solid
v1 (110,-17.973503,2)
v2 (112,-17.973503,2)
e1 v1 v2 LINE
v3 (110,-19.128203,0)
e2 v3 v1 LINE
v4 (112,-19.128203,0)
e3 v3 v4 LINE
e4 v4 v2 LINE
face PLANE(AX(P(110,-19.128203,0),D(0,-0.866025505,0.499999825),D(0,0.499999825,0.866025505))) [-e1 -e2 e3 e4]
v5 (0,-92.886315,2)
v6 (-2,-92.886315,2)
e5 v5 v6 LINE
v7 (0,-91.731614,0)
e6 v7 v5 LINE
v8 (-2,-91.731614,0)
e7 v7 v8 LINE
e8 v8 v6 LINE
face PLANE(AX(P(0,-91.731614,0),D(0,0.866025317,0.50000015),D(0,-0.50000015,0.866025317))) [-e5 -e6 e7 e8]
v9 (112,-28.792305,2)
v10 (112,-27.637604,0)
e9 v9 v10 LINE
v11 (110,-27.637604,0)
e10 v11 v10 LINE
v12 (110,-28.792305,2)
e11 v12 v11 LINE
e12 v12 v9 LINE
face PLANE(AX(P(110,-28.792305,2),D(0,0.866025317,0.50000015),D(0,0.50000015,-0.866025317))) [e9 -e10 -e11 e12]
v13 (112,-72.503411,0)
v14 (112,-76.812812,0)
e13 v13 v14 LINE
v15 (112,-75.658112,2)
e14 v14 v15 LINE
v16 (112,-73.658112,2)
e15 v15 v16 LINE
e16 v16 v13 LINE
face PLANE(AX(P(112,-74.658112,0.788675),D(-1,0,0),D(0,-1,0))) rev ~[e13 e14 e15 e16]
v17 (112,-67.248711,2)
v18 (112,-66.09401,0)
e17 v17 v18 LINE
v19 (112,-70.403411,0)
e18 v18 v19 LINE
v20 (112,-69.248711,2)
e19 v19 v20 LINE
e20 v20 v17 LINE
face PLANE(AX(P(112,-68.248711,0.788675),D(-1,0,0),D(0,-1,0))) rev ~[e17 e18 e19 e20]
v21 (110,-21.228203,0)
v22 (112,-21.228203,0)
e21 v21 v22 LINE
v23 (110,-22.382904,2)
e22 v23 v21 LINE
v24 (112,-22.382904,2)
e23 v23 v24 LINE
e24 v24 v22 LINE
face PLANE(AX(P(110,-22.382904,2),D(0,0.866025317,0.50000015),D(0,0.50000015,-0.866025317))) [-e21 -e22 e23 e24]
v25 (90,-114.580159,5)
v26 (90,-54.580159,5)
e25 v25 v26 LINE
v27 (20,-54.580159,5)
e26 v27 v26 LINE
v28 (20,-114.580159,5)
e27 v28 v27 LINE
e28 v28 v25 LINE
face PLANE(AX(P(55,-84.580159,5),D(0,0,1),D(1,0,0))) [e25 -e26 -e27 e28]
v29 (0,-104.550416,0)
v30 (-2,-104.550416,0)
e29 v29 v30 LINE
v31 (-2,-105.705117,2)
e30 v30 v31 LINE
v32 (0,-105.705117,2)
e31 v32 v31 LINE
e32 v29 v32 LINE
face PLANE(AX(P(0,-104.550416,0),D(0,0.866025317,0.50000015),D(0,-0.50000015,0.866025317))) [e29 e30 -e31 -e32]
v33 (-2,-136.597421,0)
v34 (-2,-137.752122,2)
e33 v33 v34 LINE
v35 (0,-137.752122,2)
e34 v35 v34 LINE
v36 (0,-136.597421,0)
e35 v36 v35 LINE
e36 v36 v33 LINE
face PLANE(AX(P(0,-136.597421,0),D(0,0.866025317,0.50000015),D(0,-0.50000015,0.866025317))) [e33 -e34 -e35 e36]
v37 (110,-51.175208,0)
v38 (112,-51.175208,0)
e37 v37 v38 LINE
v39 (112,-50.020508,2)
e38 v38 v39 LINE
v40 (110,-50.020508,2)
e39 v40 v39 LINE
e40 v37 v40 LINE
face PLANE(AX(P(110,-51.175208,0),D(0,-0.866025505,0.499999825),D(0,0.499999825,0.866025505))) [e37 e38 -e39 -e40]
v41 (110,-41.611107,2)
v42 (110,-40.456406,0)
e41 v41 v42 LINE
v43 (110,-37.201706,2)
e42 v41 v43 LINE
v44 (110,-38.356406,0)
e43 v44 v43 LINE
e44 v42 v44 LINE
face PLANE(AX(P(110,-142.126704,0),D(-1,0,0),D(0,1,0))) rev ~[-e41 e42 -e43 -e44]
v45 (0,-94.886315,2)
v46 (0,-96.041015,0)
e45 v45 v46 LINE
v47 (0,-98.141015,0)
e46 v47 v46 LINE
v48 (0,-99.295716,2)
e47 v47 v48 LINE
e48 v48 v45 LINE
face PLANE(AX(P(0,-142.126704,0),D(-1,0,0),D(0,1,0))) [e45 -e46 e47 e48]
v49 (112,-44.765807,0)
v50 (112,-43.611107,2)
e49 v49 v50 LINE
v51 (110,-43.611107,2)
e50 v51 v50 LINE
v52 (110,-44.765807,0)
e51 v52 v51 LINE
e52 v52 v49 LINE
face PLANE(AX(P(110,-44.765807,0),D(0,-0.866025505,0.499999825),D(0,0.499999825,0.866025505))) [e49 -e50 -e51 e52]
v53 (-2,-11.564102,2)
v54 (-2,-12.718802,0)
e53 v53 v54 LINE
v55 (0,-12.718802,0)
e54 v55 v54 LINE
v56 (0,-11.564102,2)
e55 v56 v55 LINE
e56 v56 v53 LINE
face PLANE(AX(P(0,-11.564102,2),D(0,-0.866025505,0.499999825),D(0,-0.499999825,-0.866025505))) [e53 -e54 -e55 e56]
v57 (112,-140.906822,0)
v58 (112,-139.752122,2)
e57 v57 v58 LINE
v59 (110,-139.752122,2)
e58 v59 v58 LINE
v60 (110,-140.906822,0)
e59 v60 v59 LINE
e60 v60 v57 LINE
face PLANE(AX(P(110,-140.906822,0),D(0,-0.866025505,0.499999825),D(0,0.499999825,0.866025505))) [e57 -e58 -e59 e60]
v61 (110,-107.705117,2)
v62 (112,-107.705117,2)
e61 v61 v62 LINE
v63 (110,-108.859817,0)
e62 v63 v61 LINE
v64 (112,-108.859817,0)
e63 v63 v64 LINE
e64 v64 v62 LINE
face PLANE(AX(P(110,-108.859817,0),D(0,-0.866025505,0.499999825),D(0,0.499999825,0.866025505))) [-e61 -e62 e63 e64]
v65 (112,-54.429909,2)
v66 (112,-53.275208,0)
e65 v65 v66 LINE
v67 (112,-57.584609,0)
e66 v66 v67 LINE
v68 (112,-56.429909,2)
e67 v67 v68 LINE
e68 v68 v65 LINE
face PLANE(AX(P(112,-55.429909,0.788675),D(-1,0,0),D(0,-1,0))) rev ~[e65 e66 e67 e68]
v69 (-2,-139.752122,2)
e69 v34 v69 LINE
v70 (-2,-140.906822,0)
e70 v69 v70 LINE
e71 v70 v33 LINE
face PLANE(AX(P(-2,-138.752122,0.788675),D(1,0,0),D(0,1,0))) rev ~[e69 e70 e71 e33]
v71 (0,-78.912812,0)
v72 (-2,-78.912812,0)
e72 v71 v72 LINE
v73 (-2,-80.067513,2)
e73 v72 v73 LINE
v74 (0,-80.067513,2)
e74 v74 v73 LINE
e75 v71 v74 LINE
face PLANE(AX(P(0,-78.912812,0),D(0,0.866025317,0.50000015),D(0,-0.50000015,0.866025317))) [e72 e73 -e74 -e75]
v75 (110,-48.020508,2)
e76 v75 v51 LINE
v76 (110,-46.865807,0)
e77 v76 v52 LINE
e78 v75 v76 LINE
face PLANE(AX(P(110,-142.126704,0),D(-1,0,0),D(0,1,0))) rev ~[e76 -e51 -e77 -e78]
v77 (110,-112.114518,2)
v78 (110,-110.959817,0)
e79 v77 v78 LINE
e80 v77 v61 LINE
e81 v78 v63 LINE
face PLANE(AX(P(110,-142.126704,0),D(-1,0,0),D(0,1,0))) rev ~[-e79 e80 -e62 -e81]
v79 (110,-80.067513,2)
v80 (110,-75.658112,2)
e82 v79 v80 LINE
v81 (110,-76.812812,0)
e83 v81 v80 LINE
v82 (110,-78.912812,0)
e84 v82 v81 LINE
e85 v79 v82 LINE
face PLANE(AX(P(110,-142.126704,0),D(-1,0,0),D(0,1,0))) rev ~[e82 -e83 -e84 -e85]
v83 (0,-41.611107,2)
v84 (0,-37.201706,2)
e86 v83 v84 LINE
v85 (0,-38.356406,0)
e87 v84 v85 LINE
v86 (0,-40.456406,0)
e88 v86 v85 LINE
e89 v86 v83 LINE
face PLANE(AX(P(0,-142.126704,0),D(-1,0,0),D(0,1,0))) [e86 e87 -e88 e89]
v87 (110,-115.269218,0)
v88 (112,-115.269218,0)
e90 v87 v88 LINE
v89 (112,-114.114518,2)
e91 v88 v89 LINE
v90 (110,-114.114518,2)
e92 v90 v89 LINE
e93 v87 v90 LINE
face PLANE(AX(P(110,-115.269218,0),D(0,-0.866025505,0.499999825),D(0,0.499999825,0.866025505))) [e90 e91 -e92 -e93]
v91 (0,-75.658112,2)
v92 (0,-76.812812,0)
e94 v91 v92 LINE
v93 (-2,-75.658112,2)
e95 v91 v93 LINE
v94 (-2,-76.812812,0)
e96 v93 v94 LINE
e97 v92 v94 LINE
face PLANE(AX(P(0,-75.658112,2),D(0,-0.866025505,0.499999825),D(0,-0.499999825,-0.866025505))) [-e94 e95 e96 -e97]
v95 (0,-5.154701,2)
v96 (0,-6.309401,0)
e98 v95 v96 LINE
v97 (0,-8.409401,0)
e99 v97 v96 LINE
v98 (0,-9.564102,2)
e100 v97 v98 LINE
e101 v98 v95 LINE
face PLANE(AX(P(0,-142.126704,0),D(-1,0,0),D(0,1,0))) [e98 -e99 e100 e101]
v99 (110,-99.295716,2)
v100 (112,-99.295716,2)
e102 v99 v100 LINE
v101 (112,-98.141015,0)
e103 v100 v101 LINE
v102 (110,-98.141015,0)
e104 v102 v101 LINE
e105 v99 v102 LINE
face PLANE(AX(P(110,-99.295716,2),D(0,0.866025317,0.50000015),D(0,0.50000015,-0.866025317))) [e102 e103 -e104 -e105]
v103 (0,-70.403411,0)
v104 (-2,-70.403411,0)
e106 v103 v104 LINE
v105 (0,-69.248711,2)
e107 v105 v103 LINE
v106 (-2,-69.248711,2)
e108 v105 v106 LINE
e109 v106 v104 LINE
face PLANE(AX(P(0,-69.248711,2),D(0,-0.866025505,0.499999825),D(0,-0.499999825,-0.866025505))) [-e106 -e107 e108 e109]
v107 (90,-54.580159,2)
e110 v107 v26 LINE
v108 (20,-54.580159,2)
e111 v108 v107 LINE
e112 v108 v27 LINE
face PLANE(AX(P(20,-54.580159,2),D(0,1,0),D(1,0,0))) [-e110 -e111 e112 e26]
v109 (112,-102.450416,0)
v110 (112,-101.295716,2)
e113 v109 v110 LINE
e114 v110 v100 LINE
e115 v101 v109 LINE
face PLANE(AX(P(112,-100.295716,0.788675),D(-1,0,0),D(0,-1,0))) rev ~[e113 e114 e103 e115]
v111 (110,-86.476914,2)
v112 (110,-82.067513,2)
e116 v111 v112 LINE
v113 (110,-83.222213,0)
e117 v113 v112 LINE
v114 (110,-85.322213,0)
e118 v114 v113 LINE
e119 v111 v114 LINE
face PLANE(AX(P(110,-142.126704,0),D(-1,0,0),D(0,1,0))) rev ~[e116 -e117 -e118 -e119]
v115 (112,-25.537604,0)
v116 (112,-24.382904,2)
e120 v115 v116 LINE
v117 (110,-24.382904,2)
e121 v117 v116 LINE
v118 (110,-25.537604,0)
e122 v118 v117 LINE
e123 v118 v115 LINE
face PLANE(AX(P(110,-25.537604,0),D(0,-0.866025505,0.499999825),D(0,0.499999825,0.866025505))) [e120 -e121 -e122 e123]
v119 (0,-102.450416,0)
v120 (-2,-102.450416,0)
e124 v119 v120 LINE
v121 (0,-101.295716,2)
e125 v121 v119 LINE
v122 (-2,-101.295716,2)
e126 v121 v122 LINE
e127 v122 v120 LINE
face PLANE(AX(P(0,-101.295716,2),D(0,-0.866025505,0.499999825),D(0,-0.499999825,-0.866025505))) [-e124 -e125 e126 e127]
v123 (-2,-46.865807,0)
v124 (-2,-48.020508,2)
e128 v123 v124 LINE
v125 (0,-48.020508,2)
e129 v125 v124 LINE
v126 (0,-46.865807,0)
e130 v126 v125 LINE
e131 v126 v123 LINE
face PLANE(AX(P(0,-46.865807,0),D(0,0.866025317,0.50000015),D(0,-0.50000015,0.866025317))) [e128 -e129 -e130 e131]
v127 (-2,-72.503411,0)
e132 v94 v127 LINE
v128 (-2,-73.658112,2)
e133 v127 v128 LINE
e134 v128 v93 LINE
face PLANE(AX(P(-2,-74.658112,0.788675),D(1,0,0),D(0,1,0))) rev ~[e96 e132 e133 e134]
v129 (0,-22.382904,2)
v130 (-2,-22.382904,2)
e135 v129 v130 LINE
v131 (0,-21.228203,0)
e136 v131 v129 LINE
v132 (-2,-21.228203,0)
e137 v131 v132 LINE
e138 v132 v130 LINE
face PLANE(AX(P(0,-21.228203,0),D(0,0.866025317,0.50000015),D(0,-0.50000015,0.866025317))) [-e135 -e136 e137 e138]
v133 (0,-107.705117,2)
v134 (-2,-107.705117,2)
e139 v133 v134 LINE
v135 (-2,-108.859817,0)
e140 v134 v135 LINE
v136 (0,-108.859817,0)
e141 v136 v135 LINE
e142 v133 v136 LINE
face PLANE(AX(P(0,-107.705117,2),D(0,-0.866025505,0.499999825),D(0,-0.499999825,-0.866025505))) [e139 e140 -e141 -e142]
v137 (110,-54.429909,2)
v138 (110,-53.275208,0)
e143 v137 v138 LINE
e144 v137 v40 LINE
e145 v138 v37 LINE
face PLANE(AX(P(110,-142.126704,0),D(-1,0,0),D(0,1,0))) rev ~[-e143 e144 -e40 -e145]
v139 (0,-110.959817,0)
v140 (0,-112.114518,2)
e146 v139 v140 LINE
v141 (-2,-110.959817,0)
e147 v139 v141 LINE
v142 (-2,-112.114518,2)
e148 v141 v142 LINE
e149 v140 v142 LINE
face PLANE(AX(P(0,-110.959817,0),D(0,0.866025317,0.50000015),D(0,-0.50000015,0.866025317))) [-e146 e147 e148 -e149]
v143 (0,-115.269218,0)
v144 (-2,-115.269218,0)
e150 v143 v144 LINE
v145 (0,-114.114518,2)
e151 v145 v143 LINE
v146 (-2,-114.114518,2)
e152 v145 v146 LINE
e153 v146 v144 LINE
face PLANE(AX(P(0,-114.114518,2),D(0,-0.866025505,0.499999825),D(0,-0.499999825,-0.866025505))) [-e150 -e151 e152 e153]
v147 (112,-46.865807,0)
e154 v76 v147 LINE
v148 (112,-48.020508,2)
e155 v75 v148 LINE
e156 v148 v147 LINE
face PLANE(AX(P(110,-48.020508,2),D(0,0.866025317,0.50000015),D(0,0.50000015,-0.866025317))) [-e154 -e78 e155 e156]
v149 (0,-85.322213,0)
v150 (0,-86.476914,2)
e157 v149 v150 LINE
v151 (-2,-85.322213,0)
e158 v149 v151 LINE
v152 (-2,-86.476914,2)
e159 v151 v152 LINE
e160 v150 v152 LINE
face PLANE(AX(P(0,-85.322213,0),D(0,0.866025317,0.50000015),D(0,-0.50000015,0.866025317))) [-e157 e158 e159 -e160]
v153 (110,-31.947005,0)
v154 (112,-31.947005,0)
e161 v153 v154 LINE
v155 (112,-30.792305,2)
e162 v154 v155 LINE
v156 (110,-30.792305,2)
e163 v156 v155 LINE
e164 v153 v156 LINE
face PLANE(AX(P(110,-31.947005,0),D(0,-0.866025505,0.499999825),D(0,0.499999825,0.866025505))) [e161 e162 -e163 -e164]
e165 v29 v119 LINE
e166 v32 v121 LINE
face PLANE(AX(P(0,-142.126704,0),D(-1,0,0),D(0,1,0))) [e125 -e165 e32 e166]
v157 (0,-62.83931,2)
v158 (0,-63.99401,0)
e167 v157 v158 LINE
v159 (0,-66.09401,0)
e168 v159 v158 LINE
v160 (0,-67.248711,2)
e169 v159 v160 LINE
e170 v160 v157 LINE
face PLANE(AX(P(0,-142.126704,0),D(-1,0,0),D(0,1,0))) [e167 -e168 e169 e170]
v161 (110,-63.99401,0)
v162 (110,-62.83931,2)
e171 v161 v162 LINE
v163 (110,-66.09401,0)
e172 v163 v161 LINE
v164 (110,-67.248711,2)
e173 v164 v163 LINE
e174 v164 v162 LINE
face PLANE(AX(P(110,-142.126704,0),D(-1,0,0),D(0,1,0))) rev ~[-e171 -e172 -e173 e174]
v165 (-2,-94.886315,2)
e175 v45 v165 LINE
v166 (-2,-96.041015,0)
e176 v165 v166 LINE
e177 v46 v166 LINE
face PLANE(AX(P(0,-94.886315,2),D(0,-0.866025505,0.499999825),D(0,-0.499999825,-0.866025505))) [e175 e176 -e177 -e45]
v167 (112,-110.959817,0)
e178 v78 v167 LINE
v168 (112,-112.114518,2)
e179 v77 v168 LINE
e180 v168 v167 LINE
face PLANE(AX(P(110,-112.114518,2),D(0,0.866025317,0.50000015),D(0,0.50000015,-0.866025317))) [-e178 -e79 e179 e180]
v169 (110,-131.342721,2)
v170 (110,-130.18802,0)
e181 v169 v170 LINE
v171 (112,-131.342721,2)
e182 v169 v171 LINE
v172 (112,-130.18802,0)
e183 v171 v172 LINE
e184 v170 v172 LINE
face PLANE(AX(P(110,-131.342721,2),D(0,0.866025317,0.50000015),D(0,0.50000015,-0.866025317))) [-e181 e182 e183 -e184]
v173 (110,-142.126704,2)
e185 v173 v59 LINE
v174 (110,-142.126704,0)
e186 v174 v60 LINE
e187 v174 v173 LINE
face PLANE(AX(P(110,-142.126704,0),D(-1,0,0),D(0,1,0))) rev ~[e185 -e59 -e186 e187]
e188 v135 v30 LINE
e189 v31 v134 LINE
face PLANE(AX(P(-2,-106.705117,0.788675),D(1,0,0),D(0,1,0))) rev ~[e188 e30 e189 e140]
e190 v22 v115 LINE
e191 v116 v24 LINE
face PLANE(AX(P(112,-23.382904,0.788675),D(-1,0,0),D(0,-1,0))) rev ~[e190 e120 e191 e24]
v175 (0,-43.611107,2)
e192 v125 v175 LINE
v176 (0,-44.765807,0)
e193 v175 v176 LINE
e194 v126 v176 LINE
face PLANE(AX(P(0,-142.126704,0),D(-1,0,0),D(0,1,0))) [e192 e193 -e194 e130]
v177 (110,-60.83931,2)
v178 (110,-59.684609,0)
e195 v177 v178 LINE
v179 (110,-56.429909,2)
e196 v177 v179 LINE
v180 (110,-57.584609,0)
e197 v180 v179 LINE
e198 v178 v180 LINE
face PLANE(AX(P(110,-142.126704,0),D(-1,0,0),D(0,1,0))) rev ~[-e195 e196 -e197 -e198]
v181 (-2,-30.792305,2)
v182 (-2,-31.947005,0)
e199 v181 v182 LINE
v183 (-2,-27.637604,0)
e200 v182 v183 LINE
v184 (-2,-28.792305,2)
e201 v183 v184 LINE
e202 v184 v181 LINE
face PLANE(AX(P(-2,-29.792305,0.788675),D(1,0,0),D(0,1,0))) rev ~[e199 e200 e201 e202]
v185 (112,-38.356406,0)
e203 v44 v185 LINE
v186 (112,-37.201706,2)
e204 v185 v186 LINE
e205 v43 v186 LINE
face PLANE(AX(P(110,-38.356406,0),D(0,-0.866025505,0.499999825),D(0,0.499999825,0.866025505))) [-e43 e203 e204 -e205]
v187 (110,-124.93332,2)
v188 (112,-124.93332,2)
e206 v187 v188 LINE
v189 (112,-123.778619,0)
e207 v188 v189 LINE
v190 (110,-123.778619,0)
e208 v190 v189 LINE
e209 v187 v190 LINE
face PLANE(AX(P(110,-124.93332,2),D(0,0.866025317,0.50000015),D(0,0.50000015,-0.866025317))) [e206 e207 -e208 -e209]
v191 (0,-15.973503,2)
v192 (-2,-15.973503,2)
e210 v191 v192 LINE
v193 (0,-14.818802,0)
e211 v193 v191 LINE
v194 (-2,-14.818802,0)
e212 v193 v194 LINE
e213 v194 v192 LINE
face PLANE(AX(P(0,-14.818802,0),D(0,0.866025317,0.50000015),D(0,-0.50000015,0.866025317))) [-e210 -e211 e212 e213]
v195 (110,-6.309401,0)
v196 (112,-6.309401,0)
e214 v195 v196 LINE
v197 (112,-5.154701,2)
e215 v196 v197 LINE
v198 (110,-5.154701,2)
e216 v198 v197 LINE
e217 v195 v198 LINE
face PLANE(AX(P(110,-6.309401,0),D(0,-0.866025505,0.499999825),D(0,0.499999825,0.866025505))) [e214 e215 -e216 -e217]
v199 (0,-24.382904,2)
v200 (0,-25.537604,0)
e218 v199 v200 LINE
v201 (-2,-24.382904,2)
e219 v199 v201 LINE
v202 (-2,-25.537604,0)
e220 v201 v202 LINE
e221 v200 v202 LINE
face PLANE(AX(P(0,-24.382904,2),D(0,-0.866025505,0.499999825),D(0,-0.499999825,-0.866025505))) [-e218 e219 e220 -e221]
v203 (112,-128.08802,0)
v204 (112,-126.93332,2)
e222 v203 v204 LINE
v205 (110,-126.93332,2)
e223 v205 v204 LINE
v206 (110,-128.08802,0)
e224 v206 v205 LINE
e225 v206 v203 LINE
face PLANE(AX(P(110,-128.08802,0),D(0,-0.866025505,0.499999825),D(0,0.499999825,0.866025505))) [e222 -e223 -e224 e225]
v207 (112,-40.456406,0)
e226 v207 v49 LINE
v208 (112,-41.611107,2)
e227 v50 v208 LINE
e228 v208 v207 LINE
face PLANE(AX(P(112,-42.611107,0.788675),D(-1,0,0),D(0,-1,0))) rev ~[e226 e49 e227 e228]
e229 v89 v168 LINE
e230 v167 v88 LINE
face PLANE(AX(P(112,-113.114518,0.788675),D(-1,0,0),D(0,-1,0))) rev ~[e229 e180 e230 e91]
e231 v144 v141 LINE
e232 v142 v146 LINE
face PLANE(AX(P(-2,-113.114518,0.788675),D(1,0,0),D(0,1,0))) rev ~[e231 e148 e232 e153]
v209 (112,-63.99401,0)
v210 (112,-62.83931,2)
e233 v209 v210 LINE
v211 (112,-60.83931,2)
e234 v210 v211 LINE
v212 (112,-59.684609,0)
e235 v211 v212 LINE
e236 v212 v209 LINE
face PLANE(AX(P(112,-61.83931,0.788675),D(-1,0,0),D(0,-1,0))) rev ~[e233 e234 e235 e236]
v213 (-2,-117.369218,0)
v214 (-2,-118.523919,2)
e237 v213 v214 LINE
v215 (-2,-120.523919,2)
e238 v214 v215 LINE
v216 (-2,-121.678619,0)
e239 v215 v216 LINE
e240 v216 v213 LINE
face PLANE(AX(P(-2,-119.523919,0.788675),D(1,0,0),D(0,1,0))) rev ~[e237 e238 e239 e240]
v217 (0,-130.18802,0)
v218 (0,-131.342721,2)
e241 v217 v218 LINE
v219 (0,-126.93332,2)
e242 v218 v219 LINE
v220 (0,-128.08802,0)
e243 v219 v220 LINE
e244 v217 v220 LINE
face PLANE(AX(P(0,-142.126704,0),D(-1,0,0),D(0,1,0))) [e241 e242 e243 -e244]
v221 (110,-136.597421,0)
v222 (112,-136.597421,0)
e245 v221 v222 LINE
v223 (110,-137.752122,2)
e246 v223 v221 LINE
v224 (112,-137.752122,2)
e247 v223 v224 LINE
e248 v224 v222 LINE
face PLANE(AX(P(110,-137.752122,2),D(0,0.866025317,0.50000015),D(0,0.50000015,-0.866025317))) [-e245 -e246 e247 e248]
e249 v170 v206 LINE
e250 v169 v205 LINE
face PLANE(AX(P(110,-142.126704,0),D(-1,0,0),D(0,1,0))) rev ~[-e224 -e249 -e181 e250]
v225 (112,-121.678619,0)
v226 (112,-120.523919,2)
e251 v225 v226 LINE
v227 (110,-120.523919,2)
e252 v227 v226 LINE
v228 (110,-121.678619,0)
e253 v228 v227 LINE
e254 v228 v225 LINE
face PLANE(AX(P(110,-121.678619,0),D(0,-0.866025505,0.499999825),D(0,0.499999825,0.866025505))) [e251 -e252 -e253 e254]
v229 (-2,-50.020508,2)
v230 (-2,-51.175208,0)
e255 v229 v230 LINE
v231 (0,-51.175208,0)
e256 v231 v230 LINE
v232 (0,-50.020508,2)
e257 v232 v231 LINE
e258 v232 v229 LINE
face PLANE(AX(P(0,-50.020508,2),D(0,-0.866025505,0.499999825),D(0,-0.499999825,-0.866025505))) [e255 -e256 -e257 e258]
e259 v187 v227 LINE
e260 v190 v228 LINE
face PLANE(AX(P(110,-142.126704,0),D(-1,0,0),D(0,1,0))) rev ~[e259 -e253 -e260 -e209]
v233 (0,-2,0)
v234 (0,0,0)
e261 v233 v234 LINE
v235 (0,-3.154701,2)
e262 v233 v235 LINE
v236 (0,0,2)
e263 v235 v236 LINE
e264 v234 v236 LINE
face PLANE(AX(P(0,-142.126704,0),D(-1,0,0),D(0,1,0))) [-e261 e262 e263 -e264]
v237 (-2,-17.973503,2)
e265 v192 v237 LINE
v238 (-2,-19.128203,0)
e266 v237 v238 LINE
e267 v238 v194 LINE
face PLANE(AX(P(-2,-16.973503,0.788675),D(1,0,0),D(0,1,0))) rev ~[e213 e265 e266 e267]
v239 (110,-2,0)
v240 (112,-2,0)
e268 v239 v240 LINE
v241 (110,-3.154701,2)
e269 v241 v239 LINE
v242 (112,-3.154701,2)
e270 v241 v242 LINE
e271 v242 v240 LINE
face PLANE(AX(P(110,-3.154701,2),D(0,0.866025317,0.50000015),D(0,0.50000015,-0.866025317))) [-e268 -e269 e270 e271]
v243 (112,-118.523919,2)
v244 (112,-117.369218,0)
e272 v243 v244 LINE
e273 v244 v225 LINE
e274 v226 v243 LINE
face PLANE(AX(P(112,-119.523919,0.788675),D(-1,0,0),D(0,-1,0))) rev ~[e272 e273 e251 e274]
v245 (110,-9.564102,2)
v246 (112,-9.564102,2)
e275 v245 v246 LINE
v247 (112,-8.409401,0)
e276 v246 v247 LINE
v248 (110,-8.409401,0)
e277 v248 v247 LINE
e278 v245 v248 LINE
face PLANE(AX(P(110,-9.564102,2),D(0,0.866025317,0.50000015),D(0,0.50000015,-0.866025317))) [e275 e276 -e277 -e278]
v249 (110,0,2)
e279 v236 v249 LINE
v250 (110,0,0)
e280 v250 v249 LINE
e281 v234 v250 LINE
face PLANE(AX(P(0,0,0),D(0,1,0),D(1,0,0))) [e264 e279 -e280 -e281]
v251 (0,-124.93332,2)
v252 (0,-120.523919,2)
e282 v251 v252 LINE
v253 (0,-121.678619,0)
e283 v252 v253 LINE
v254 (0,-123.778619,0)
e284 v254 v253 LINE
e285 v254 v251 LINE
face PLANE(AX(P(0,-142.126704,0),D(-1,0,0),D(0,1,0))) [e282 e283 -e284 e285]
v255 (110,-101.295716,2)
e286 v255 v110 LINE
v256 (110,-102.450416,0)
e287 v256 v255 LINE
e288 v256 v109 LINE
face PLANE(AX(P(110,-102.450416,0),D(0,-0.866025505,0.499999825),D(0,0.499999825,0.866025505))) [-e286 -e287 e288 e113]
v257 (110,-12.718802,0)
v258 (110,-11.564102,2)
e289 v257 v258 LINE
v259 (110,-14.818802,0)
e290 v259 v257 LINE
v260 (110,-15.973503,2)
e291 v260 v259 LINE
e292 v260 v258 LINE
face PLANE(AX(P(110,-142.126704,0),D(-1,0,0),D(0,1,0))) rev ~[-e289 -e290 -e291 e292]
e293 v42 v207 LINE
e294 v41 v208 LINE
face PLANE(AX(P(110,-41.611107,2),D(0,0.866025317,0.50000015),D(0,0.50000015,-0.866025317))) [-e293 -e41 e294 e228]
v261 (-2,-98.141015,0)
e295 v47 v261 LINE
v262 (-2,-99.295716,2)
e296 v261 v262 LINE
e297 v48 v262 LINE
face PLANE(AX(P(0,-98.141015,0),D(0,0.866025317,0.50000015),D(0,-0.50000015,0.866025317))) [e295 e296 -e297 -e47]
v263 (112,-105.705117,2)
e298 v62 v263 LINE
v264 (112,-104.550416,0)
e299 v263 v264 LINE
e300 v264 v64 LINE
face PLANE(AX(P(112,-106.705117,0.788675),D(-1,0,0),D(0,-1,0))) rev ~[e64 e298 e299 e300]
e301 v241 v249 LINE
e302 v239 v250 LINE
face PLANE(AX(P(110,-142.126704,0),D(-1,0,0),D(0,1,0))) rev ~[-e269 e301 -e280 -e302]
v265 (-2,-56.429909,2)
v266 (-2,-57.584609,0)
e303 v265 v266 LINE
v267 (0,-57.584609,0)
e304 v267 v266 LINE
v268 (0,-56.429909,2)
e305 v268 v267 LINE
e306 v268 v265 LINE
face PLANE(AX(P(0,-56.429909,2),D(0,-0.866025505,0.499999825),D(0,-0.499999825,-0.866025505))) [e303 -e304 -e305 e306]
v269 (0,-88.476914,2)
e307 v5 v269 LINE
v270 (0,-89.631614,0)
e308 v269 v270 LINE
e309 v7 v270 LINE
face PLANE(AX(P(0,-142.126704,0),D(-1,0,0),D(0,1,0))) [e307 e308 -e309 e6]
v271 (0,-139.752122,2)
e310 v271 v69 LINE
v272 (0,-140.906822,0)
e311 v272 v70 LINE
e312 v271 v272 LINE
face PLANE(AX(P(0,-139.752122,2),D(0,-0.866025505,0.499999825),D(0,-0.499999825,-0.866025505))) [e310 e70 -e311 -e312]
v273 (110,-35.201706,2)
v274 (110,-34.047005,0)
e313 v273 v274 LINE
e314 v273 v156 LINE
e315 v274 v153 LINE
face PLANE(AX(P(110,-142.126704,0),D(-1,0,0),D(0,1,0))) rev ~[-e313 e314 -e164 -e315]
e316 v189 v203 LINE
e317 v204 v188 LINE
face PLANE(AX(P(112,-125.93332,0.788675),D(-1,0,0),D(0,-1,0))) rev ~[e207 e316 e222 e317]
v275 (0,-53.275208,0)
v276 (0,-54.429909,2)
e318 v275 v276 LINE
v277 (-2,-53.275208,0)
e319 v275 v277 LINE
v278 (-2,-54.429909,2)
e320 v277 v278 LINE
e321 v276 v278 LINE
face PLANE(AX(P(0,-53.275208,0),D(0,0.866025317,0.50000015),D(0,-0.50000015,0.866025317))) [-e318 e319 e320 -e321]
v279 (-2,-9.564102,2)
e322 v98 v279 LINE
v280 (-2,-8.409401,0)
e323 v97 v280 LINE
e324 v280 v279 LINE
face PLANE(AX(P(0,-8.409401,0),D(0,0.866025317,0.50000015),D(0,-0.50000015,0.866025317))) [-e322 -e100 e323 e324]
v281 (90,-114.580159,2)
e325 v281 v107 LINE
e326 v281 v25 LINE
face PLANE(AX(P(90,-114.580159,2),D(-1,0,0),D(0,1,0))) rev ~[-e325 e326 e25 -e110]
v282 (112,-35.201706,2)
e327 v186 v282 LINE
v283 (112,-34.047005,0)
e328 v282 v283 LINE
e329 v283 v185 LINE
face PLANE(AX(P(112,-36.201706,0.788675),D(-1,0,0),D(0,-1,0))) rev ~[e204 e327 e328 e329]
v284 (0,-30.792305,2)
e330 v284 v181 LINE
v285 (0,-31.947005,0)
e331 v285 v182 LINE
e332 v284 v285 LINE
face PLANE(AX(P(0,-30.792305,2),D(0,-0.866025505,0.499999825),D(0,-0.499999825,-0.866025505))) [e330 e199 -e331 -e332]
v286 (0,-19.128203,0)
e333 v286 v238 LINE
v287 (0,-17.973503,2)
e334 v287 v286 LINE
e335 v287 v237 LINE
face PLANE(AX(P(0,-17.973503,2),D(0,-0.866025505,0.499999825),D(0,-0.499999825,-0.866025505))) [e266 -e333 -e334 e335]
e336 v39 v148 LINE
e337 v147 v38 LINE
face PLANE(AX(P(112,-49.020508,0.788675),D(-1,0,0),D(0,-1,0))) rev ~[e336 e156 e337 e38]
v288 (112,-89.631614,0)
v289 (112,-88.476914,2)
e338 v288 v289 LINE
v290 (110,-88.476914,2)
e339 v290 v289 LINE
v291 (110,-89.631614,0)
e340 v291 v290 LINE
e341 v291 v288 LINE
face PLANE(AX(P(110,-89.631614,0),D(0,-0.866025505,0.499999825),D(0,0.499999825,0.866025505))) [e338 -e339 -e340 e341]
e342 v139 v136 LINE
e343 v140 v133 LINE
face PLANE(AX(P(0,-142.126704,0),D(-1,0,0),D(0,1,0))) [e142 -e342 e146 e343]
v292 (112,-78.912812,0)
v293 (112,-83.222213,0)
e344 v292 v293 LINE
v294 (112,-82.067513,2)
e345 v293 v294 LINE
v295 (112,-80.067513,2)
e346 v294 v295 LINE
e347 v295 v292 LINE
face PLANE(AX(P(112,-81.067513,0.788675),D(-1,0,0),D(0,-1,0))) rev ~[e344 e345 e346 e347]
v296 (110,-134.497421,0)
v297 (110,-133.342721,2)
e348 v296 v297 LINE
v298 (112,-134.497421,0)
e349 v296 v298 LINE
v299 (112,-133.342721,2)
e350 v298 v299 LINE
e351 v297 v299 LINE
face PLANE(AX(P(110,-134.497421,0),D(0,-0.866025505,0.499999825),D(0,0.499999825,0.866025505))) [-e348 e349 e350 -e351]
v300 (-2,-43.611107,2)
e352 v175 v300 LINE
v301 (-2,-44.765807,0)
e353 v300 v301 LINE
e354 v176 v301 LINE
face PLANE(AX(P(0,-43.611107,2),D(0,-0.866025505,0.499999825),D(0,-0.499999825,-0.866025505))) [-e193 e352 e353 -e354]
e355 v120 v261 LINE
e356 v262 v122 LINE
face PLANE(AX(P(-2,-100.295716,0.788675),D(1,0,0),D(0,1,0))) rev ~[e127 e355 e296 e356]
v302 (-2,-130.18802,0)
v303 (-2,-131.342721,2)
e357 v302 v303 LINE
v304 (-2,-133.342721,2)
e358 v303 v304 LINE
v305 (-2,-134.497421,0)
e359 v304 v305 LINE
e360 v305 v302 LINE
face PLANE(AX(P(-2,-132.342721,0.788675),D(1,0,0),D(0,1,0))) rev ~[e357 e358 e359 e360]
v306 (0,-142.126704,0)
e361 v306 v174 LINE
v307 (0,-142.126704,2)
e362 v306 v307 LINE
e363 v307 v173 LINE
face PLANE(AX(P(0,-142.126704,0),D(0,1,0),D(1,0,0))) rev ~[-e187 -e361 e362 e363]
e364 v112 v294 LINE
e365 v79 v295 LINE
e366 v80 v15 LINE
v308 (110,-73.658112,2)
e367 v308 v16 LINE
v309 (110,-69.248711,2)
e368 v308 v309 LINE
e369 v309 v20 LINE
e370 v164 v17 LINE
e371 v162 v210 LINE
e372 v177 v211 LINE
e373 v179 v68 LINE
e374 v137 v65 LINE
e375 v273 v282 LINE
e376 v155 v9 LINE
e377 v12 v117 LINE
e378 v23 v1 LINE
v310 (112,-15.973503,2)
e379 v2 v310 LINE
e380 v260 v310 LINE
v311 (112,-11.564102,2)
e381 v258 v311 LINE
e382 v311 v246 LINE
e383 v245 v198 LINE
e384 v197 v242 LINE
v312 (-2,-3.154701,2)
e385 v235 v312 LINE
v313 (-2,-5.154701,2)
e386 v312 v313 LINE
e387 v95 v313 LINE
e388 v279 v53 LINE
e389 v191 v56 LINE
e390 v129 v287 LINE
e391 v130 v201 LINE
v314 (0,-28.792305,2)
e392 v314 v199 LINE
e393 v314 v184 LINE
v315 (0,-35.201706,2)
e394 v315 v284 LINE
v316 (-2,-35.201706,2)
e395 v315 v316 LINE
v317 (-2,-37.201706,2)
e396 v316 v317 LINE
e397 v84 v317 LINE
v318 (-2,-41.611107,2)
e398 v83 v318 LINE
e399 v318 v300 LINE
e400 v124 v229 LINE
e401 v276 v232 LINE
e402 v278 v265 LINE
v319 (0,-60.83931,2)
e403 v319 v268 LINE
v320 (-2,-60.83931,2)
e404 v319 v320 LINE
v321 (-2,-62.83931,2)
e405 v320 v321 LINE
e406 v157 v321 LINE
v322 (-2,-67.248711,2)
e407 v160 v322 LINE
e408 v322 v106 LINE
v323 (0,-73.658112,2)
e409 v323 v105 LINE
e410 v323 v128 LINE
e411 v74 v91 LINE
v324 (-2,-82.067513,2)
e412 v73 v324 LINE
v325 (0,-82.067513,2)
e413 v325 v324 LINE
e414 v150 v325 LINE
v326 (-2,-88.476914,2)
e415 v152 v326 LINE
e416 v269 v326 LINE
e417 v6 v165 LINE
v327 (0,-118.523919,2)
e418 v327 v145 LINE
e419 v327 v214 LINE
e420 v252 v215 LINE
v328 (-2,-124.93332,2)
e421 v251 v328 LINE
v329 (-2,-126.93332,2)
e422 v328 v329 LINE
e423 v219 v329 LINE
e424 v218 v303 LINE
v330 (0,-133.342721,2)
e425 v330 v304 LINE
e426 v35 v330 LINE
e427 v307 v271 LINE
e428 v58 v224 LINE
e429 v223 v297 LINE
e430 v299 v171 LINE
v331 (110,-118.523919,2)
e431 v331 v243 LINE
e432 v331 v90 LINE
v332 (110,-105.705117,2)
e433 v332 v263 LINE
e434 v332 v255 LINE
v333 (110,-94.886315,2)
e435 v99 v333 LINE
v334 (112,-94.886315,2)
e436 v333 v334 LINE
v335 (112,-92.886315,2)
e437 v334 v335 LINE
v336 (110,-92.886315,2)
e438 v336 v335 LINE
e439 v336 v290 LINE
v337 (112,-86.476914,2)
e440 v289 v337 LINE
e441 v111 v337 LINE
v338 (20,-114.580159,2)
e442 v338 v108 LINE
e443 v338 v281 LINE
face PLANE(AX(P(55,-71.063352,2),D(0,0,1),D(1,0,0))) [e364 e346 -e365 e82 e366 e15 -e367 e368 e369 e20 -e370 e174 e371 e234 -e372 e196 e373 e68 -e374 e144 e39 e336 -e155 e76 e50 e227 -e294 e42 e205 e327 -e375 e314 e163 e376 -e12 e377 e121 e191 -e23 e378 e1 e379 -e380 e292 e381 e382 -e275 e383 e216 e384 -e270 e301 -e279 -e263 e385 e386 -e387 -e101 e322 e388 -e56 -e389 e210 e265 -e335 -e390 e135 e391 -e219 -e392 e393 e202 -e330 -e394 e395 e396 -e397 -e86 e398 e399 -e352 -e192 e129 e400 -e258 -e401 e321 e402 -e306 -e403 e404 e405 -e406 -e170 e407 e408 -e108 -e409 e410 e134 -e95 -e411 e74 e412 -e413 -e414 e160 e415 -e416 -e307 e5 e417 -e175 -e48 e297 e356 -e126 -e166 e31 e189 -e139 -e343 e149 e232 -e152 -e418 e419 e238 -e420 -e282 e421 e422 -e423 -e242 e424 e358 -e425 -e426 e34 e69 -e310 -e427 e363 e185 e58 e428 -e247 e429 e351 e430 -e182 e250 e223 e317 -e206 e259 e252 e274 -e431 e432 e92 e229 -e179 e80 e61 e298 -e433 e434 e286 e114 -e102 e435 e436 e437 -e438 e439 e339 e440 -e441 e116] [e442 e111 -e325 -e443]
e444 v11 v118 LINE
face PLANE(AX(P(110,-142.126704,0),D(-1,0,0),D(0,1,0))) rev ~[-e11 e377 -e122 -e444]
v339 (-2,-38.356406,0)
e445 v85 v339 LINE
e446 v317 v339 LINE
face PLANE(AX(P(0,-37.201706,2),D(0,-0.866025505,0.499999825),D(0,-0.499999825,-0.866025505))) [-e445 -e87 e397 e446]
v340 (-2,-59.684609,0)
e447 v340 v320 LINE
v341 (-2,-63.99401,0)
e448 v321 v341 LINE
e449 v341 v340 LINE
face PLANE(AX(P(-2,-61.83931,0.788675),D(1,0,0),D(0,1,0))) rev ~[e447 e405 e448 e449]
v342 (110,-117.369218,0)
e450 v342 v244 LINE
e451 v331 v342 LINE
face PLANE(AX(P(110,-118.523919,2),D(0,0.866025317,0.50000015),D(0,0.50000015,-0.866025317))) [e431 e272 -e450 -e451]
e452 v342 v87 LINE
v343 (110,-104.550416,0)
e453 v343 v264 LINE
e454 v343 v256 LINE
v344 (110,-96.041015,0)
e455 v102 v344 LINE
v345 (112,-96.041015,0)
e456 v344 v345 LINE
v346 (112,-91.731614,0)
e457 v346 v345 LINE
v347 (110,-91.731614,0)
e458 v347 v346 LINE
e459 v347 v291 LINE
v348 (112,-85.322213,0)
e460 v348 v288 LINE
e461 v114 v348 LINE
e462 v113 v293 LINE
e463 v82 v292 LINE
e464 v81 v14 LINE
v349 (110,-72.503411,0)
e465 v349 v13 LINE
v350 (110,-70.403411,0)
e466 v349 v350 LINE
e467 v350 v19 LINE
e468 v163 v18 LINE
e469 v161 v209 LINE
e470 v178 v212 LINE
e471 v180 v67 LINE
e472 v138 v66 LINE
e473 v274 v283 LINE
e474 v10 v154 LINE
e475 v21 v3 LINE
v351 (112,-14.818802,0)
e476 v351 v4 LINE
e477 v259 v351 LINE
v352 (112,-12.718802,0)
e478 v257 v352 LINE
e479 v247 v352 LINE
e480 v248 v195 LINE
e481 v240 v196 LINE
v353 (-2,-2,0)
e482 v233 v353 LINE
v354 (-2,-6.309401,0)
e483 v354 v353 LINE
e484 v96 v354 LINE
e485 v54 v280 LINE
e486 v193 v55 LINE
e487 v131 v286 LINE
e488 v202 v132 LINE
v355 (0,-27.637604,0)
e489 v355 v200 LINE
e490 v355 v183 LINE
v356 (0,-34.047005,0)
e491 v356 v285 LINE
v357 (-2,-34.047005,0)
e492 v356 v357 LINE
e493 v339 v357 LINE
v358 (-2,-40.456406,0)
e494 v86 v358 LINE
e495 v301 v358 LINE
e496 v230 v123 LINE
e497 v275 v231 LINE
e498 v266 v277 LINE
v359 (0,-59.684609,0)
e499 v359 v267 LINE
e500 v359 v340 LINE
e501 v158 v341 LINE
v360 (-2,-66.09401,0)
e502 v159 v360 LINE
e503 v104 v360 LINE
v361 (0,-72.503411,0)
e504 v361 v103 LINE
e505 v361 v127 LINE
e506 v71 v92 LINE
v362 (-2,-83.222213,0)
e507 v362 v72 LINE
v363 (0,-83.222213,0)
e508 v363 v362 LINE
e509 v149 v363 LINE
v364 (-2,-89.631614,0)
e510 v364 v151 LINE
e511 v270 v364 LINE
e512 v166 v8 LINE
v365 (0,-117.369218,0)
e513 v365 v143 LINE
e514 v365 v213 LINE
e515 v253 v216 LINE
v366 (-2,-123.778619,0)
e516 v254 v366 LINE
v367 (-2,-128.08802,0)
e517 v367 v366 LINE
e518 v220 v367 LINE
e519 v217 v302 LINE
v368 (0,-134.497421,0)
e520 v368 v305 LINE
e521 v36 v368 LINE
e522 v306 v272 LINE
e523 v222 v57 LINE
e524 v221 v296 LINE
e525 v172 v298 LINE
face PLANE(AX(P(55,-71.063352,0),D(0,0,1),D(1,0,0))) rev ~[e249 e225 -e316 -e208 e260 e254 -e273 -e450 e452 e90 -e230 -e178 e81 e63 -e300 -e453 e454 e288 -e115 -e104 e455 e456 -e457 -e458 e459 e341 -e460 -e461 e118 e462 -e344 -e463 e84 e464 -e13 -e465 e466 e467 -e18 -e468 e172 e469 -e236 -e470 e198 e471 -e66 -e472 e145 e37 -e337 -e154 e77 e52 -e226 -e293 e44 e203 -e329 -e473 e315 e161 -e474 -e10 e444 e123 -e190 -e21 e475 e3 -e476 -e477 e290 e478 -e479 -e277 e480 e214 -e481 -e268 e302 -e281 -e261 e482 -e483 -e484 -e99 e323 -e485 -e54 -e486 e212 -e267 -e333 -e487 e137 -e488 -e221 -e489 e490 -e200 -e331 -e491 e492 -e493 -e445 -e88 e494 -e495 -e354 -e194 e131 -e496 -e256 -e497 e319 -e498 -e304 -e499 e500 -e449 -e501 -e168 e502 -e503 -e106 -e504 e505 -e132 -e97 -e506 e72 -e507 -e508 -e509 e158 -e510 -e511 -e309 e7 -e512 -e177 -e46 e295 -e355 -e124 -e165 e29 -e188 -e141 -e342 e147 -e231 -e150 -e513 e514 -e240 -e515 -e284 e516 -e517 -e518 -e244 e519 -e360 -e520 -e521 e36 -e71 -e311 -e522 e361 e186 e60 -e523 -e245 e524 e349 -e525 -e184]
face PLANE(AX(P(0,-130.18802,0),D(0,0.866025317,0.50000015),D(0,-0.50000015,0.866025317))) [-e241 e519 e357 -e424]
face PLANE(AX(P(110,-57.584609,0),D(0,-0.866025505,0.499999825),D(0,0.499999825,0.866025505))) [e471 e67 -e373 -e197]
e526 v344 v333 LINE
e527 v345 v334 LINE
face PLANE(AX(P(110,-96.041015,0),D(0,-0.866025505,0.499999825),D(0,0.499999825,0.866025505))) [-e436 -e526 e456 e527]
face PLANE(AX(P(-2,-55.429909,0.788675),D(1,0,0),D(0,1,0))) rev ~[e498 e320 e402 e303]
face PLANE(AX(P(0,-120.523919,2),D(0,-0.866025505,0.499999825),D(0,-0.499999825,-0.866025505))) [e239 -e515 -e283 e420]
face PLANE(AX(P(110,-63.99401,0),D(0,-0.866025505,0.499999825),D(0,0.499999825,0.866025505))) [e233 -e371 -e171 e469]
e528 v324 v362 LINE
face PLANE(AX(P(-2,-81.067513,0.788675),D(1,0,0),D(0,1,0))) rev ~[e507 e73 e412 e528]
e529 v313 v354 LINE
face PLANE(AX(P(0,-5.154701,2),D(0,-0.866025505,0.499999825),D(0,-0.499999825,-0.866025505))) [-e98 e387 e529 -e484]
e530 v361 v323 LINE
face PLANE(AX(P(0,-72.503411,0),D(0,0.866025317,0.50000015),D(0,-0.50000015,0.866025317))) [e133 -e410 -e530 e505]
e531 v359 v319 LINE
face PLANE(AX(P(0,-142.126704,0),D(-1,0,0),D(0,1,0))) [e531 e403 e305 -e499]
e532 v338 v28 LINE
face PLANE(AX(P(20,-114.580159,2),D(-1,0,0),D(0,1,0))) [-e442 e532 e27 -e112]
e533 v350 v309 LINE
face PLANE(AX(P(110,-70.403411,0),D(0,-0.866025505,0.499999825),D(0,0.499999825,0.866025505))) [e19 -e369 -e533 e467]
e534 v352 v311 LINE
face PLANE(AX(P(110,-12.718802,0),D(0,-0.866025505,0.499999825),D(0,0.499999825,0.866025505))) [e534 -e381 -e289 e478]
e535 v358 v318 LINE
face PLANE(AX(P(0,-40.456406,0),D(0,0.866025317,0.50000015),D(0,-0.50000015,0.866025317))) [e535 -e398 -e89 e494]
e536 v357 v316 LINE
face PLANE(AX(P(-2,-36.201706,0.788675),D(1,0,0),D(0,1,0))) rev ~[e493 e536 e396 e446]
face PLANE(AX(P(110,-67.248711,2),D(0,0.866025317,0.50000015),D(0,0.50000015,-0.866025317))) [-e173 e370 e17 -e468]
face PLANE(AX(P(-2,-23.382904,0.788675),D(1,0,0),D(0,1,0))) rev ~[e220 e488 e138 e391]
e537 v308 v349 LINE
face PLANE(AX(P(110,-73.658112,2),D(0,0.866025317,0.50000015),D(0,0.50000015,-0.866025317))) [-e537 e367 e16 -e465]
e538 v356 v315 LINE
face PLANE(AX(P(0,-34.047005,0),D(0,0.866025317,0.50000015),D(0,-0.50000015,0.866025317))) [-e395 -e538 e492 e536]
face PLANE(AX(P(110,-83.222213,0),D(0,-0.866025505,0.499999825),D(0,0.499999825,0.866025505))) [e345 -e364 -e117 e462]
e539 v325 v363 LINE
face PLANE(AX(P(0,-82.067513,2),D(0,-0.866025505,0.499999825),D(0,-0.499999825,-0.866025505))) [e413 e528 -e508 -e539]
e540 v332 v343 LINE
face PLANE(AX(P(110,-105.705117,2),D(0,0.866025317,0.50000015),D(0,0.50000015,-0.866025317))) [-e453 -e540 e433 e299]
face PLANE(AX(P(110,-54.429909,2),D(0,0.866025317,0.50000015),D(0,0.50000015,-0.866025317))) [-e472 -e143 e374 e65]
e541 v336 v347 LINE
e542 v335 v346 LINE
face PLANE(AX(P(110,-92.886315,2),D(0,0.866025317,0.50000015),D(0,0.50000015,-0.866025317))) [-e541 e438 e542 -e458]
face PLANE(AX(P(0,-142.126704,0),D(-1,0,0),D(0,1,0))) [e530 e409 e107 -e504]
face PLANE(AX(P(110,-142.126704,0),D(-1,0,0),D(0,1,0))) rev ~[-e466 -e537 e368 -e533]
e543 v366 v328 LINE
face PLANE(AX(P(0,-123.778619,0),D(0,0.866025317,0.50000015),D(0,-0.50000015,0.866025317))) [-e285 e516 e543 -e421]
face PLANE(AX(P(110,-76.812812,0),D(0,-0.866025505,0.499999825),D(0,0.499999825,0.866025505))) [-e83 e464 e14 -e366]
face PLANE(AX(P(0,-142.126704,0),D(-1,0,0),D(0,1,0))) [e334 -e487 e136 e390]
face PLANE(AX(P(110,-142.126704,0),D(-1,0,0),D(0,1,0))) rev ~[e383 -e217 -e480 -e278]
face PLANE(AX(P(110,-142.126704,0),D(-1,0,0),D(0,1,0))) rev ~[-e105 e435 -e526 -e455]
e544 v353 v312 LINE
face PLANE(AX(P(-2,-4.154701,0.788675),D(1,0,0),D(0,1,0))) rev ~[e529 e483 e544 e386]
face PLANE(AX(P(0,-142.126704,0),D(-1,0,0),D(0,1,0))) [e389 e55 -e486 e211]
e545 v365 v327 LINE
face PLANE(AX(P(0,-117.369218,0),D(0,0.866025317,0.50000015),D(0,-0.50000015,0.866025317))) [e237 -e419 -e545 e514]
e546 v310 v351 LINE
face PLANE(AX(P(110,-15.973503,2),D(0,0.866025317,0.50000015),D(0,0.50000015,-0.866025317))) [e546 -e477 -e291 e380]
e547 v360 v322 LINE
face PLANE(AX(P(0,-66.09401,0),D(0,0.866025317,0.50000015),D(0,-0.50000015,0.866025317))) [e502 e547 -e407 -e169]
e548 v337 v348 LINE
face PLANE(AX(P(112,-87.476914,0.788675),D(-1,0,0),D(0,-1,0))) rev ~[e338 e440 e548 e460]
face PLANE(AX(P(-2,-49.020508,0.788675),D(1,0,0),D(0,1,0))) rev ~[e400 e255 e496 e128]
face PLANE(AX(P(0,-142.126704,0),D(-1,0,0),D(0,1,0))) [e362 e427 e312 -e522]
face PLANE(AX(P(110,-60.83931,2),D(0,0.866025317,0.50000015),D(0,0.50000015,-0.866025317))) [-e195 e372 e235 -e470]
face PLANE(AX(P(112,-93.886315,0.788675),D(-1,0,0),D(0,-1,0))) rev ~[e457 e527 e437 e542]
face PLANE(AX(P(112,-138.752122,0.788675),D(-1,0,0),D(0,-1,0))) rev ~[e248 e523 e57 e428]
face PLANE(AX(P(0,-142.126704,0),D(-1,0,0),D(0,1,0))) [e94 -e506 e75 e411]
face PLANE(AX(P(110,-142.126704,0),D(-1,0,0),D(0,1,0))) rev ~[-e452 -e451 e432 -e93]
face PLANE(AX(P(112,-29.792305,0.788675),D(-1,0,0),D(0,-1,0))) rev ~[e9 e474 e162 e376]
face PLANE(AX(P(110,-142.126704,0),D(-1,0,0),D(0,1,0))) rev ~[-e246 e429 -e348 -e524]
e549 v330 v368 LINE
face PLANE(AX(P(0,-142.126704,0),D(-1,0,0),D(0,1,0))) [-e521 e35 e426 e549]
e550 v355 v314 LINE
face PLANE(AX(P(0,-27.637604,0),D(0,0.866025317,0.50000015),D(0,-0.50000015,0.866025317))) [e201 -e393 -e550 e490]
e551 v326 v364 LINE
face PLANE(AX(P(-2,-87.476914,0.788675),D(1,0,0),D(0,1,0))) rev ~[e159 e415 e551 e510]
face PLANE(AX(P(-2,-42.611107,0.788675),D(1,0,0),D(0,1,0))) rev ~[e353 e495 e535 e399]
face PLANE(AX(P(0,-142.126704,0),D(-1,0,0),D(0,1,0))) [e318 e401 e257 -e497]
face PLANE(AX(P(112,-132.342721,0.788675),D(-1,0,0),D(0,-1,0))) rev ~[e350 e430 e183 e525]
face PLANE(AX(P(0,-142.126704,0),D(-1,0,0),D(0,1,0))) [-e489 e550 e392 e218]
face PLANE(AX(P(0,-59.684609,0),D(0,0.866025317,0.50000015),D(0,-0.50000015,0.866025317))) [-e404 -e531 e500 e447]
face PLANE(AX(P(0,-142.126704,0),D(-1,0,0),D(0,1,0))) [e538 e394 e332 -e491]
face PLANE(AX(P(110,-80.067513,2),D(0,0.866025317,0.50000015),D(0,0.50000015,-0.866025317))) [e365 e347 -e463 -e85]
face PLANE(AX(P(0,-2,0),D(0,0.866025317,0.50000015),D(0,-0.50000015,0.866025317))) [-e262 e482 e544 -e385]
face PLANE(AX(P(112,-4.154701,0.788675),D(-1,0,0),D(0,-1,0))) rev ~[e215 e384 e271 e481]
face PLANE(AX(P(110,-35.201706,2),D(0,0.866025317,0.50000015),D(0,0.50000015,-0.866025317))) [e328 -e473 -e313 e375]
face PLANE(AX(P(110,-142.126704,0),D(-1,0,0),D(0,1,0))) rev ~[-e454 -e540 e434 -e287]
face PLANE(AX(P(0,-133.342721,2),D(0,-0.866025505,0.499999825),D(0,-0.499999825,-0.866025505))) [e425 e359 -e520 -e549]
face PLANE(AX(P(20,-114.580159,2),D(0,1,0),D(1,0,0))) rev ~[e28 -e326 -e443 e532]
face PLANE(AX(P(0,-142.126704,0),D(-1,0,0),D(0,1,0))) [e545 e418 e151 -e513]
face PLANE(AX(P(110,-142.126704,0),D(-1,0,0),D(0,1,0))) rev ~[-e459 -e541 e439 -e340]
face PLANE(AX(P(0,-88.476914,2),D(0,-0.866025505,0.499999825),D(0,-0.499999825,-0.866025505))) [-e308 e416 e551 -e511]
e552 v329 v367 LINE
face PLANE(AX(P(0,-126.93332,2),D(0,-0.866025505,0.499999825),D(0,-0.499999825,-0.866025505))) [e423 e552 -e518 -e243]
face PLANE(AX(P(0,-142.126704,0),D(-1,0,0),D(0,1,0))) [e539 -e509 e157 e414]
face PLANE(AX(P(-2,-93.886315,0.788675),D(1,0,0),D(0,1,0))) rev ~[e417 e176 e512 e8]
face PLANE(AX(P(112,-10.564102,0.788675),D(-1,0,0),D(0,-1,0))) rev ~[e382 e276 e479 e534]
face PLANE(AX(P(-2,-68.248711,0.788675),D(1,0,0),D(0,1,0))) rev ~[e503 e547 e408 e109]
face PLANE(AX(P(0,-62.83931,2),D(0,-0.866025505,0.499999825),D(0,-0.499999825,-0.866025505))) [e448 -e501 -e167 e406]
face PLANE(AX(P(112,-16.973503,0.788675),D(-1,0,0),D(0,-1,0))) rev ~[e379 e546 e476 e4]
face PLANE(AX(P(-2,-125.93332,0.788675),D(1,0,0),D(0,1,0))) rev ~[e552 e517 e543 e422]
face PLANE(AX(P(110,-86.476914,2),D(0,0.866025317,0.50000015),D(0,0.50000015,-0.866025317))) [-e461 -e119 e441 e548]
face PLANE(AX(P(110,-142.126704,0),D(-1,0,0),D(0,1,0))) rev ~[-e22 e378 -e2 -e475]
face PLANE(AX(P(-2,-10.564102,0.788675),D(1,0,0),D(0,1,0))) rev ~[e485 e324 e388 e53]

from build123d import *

# Parameters (mm, degrees)
SKETCH_W               = 110
SKETCH_H               = 142.126704
PAD_DEPTH              = 2
SKETCH001_W            = 70
SKETCH001_H            = 60
PAD001_DEPTH           = 3
PAD002_DEPTH           = 2
LINEARPATTERN_COUNT    = 22
LINEARPATTERN_PITCH    = 6.409401
PAD003_DEPTH           = 2
LINEARPATTERN001_COUNT = 22
LINEARPATTERN001_PITCH = 6.409401


with BuildPart() as part:
    # Sketch → Pad (new body)
    with BuildSketch(Plane.XY):
        with Locations((55, -71.063352)):
            Rectangle(SKETCH_W, SKETCH_H)
    extrude(amount=PAD_DEPTH)

    # Sketch001 (on Face6 of Pad) → Pad001 (join)
    with BuildSketch(Plane.XY.offset(2)):
        with Locations((55, -84.580159)):
            Rectangle(SKETCH001_W, SKETCH001_H)
    extrude(amount=PAD001_DEPTH)

    # Sketch002 (on Face3 of Pad001) → Pad002 (join)
    with BuildSketch(Plane.YZ.offset(110)):
        Polygon((-6.309401, 0), (-5.154701, 2), (-3.154701, 2), (-2, 0), align=None)
    pad002 = extrude(amount=PAD002_DEPTH)

    # LinearPattern: Pad002 ×22
    with Locations(*[(0, -i * LINEARPATTERN_PITCH, 0) for i in range(1, LINEARPATTERN_COUNT)]):
        add(pad002)

    # Sketch003 (on Face2 of LinearPattern) → Pad003 (join)
    with BuildSketch(Plane(origin=(0, 0, 0), x_dir=(0, -1, 0), z_dir=(-1, 0, 0))):
        Polygon((2, 0), (3.154701, 2), (5.154701, 2), (6.309401, 0), align=None)
    pad003 = extrude(amount=PAD003_DEPTH)

    # LinearPattern001: Pad003 ×22
    with Locations(*[(0, -i * LINEARPATTERN001_PITCH, 0) for i in range(1, LINEARPATTERN001_COUNT)]):
        add(pad003)


solid = part.part
